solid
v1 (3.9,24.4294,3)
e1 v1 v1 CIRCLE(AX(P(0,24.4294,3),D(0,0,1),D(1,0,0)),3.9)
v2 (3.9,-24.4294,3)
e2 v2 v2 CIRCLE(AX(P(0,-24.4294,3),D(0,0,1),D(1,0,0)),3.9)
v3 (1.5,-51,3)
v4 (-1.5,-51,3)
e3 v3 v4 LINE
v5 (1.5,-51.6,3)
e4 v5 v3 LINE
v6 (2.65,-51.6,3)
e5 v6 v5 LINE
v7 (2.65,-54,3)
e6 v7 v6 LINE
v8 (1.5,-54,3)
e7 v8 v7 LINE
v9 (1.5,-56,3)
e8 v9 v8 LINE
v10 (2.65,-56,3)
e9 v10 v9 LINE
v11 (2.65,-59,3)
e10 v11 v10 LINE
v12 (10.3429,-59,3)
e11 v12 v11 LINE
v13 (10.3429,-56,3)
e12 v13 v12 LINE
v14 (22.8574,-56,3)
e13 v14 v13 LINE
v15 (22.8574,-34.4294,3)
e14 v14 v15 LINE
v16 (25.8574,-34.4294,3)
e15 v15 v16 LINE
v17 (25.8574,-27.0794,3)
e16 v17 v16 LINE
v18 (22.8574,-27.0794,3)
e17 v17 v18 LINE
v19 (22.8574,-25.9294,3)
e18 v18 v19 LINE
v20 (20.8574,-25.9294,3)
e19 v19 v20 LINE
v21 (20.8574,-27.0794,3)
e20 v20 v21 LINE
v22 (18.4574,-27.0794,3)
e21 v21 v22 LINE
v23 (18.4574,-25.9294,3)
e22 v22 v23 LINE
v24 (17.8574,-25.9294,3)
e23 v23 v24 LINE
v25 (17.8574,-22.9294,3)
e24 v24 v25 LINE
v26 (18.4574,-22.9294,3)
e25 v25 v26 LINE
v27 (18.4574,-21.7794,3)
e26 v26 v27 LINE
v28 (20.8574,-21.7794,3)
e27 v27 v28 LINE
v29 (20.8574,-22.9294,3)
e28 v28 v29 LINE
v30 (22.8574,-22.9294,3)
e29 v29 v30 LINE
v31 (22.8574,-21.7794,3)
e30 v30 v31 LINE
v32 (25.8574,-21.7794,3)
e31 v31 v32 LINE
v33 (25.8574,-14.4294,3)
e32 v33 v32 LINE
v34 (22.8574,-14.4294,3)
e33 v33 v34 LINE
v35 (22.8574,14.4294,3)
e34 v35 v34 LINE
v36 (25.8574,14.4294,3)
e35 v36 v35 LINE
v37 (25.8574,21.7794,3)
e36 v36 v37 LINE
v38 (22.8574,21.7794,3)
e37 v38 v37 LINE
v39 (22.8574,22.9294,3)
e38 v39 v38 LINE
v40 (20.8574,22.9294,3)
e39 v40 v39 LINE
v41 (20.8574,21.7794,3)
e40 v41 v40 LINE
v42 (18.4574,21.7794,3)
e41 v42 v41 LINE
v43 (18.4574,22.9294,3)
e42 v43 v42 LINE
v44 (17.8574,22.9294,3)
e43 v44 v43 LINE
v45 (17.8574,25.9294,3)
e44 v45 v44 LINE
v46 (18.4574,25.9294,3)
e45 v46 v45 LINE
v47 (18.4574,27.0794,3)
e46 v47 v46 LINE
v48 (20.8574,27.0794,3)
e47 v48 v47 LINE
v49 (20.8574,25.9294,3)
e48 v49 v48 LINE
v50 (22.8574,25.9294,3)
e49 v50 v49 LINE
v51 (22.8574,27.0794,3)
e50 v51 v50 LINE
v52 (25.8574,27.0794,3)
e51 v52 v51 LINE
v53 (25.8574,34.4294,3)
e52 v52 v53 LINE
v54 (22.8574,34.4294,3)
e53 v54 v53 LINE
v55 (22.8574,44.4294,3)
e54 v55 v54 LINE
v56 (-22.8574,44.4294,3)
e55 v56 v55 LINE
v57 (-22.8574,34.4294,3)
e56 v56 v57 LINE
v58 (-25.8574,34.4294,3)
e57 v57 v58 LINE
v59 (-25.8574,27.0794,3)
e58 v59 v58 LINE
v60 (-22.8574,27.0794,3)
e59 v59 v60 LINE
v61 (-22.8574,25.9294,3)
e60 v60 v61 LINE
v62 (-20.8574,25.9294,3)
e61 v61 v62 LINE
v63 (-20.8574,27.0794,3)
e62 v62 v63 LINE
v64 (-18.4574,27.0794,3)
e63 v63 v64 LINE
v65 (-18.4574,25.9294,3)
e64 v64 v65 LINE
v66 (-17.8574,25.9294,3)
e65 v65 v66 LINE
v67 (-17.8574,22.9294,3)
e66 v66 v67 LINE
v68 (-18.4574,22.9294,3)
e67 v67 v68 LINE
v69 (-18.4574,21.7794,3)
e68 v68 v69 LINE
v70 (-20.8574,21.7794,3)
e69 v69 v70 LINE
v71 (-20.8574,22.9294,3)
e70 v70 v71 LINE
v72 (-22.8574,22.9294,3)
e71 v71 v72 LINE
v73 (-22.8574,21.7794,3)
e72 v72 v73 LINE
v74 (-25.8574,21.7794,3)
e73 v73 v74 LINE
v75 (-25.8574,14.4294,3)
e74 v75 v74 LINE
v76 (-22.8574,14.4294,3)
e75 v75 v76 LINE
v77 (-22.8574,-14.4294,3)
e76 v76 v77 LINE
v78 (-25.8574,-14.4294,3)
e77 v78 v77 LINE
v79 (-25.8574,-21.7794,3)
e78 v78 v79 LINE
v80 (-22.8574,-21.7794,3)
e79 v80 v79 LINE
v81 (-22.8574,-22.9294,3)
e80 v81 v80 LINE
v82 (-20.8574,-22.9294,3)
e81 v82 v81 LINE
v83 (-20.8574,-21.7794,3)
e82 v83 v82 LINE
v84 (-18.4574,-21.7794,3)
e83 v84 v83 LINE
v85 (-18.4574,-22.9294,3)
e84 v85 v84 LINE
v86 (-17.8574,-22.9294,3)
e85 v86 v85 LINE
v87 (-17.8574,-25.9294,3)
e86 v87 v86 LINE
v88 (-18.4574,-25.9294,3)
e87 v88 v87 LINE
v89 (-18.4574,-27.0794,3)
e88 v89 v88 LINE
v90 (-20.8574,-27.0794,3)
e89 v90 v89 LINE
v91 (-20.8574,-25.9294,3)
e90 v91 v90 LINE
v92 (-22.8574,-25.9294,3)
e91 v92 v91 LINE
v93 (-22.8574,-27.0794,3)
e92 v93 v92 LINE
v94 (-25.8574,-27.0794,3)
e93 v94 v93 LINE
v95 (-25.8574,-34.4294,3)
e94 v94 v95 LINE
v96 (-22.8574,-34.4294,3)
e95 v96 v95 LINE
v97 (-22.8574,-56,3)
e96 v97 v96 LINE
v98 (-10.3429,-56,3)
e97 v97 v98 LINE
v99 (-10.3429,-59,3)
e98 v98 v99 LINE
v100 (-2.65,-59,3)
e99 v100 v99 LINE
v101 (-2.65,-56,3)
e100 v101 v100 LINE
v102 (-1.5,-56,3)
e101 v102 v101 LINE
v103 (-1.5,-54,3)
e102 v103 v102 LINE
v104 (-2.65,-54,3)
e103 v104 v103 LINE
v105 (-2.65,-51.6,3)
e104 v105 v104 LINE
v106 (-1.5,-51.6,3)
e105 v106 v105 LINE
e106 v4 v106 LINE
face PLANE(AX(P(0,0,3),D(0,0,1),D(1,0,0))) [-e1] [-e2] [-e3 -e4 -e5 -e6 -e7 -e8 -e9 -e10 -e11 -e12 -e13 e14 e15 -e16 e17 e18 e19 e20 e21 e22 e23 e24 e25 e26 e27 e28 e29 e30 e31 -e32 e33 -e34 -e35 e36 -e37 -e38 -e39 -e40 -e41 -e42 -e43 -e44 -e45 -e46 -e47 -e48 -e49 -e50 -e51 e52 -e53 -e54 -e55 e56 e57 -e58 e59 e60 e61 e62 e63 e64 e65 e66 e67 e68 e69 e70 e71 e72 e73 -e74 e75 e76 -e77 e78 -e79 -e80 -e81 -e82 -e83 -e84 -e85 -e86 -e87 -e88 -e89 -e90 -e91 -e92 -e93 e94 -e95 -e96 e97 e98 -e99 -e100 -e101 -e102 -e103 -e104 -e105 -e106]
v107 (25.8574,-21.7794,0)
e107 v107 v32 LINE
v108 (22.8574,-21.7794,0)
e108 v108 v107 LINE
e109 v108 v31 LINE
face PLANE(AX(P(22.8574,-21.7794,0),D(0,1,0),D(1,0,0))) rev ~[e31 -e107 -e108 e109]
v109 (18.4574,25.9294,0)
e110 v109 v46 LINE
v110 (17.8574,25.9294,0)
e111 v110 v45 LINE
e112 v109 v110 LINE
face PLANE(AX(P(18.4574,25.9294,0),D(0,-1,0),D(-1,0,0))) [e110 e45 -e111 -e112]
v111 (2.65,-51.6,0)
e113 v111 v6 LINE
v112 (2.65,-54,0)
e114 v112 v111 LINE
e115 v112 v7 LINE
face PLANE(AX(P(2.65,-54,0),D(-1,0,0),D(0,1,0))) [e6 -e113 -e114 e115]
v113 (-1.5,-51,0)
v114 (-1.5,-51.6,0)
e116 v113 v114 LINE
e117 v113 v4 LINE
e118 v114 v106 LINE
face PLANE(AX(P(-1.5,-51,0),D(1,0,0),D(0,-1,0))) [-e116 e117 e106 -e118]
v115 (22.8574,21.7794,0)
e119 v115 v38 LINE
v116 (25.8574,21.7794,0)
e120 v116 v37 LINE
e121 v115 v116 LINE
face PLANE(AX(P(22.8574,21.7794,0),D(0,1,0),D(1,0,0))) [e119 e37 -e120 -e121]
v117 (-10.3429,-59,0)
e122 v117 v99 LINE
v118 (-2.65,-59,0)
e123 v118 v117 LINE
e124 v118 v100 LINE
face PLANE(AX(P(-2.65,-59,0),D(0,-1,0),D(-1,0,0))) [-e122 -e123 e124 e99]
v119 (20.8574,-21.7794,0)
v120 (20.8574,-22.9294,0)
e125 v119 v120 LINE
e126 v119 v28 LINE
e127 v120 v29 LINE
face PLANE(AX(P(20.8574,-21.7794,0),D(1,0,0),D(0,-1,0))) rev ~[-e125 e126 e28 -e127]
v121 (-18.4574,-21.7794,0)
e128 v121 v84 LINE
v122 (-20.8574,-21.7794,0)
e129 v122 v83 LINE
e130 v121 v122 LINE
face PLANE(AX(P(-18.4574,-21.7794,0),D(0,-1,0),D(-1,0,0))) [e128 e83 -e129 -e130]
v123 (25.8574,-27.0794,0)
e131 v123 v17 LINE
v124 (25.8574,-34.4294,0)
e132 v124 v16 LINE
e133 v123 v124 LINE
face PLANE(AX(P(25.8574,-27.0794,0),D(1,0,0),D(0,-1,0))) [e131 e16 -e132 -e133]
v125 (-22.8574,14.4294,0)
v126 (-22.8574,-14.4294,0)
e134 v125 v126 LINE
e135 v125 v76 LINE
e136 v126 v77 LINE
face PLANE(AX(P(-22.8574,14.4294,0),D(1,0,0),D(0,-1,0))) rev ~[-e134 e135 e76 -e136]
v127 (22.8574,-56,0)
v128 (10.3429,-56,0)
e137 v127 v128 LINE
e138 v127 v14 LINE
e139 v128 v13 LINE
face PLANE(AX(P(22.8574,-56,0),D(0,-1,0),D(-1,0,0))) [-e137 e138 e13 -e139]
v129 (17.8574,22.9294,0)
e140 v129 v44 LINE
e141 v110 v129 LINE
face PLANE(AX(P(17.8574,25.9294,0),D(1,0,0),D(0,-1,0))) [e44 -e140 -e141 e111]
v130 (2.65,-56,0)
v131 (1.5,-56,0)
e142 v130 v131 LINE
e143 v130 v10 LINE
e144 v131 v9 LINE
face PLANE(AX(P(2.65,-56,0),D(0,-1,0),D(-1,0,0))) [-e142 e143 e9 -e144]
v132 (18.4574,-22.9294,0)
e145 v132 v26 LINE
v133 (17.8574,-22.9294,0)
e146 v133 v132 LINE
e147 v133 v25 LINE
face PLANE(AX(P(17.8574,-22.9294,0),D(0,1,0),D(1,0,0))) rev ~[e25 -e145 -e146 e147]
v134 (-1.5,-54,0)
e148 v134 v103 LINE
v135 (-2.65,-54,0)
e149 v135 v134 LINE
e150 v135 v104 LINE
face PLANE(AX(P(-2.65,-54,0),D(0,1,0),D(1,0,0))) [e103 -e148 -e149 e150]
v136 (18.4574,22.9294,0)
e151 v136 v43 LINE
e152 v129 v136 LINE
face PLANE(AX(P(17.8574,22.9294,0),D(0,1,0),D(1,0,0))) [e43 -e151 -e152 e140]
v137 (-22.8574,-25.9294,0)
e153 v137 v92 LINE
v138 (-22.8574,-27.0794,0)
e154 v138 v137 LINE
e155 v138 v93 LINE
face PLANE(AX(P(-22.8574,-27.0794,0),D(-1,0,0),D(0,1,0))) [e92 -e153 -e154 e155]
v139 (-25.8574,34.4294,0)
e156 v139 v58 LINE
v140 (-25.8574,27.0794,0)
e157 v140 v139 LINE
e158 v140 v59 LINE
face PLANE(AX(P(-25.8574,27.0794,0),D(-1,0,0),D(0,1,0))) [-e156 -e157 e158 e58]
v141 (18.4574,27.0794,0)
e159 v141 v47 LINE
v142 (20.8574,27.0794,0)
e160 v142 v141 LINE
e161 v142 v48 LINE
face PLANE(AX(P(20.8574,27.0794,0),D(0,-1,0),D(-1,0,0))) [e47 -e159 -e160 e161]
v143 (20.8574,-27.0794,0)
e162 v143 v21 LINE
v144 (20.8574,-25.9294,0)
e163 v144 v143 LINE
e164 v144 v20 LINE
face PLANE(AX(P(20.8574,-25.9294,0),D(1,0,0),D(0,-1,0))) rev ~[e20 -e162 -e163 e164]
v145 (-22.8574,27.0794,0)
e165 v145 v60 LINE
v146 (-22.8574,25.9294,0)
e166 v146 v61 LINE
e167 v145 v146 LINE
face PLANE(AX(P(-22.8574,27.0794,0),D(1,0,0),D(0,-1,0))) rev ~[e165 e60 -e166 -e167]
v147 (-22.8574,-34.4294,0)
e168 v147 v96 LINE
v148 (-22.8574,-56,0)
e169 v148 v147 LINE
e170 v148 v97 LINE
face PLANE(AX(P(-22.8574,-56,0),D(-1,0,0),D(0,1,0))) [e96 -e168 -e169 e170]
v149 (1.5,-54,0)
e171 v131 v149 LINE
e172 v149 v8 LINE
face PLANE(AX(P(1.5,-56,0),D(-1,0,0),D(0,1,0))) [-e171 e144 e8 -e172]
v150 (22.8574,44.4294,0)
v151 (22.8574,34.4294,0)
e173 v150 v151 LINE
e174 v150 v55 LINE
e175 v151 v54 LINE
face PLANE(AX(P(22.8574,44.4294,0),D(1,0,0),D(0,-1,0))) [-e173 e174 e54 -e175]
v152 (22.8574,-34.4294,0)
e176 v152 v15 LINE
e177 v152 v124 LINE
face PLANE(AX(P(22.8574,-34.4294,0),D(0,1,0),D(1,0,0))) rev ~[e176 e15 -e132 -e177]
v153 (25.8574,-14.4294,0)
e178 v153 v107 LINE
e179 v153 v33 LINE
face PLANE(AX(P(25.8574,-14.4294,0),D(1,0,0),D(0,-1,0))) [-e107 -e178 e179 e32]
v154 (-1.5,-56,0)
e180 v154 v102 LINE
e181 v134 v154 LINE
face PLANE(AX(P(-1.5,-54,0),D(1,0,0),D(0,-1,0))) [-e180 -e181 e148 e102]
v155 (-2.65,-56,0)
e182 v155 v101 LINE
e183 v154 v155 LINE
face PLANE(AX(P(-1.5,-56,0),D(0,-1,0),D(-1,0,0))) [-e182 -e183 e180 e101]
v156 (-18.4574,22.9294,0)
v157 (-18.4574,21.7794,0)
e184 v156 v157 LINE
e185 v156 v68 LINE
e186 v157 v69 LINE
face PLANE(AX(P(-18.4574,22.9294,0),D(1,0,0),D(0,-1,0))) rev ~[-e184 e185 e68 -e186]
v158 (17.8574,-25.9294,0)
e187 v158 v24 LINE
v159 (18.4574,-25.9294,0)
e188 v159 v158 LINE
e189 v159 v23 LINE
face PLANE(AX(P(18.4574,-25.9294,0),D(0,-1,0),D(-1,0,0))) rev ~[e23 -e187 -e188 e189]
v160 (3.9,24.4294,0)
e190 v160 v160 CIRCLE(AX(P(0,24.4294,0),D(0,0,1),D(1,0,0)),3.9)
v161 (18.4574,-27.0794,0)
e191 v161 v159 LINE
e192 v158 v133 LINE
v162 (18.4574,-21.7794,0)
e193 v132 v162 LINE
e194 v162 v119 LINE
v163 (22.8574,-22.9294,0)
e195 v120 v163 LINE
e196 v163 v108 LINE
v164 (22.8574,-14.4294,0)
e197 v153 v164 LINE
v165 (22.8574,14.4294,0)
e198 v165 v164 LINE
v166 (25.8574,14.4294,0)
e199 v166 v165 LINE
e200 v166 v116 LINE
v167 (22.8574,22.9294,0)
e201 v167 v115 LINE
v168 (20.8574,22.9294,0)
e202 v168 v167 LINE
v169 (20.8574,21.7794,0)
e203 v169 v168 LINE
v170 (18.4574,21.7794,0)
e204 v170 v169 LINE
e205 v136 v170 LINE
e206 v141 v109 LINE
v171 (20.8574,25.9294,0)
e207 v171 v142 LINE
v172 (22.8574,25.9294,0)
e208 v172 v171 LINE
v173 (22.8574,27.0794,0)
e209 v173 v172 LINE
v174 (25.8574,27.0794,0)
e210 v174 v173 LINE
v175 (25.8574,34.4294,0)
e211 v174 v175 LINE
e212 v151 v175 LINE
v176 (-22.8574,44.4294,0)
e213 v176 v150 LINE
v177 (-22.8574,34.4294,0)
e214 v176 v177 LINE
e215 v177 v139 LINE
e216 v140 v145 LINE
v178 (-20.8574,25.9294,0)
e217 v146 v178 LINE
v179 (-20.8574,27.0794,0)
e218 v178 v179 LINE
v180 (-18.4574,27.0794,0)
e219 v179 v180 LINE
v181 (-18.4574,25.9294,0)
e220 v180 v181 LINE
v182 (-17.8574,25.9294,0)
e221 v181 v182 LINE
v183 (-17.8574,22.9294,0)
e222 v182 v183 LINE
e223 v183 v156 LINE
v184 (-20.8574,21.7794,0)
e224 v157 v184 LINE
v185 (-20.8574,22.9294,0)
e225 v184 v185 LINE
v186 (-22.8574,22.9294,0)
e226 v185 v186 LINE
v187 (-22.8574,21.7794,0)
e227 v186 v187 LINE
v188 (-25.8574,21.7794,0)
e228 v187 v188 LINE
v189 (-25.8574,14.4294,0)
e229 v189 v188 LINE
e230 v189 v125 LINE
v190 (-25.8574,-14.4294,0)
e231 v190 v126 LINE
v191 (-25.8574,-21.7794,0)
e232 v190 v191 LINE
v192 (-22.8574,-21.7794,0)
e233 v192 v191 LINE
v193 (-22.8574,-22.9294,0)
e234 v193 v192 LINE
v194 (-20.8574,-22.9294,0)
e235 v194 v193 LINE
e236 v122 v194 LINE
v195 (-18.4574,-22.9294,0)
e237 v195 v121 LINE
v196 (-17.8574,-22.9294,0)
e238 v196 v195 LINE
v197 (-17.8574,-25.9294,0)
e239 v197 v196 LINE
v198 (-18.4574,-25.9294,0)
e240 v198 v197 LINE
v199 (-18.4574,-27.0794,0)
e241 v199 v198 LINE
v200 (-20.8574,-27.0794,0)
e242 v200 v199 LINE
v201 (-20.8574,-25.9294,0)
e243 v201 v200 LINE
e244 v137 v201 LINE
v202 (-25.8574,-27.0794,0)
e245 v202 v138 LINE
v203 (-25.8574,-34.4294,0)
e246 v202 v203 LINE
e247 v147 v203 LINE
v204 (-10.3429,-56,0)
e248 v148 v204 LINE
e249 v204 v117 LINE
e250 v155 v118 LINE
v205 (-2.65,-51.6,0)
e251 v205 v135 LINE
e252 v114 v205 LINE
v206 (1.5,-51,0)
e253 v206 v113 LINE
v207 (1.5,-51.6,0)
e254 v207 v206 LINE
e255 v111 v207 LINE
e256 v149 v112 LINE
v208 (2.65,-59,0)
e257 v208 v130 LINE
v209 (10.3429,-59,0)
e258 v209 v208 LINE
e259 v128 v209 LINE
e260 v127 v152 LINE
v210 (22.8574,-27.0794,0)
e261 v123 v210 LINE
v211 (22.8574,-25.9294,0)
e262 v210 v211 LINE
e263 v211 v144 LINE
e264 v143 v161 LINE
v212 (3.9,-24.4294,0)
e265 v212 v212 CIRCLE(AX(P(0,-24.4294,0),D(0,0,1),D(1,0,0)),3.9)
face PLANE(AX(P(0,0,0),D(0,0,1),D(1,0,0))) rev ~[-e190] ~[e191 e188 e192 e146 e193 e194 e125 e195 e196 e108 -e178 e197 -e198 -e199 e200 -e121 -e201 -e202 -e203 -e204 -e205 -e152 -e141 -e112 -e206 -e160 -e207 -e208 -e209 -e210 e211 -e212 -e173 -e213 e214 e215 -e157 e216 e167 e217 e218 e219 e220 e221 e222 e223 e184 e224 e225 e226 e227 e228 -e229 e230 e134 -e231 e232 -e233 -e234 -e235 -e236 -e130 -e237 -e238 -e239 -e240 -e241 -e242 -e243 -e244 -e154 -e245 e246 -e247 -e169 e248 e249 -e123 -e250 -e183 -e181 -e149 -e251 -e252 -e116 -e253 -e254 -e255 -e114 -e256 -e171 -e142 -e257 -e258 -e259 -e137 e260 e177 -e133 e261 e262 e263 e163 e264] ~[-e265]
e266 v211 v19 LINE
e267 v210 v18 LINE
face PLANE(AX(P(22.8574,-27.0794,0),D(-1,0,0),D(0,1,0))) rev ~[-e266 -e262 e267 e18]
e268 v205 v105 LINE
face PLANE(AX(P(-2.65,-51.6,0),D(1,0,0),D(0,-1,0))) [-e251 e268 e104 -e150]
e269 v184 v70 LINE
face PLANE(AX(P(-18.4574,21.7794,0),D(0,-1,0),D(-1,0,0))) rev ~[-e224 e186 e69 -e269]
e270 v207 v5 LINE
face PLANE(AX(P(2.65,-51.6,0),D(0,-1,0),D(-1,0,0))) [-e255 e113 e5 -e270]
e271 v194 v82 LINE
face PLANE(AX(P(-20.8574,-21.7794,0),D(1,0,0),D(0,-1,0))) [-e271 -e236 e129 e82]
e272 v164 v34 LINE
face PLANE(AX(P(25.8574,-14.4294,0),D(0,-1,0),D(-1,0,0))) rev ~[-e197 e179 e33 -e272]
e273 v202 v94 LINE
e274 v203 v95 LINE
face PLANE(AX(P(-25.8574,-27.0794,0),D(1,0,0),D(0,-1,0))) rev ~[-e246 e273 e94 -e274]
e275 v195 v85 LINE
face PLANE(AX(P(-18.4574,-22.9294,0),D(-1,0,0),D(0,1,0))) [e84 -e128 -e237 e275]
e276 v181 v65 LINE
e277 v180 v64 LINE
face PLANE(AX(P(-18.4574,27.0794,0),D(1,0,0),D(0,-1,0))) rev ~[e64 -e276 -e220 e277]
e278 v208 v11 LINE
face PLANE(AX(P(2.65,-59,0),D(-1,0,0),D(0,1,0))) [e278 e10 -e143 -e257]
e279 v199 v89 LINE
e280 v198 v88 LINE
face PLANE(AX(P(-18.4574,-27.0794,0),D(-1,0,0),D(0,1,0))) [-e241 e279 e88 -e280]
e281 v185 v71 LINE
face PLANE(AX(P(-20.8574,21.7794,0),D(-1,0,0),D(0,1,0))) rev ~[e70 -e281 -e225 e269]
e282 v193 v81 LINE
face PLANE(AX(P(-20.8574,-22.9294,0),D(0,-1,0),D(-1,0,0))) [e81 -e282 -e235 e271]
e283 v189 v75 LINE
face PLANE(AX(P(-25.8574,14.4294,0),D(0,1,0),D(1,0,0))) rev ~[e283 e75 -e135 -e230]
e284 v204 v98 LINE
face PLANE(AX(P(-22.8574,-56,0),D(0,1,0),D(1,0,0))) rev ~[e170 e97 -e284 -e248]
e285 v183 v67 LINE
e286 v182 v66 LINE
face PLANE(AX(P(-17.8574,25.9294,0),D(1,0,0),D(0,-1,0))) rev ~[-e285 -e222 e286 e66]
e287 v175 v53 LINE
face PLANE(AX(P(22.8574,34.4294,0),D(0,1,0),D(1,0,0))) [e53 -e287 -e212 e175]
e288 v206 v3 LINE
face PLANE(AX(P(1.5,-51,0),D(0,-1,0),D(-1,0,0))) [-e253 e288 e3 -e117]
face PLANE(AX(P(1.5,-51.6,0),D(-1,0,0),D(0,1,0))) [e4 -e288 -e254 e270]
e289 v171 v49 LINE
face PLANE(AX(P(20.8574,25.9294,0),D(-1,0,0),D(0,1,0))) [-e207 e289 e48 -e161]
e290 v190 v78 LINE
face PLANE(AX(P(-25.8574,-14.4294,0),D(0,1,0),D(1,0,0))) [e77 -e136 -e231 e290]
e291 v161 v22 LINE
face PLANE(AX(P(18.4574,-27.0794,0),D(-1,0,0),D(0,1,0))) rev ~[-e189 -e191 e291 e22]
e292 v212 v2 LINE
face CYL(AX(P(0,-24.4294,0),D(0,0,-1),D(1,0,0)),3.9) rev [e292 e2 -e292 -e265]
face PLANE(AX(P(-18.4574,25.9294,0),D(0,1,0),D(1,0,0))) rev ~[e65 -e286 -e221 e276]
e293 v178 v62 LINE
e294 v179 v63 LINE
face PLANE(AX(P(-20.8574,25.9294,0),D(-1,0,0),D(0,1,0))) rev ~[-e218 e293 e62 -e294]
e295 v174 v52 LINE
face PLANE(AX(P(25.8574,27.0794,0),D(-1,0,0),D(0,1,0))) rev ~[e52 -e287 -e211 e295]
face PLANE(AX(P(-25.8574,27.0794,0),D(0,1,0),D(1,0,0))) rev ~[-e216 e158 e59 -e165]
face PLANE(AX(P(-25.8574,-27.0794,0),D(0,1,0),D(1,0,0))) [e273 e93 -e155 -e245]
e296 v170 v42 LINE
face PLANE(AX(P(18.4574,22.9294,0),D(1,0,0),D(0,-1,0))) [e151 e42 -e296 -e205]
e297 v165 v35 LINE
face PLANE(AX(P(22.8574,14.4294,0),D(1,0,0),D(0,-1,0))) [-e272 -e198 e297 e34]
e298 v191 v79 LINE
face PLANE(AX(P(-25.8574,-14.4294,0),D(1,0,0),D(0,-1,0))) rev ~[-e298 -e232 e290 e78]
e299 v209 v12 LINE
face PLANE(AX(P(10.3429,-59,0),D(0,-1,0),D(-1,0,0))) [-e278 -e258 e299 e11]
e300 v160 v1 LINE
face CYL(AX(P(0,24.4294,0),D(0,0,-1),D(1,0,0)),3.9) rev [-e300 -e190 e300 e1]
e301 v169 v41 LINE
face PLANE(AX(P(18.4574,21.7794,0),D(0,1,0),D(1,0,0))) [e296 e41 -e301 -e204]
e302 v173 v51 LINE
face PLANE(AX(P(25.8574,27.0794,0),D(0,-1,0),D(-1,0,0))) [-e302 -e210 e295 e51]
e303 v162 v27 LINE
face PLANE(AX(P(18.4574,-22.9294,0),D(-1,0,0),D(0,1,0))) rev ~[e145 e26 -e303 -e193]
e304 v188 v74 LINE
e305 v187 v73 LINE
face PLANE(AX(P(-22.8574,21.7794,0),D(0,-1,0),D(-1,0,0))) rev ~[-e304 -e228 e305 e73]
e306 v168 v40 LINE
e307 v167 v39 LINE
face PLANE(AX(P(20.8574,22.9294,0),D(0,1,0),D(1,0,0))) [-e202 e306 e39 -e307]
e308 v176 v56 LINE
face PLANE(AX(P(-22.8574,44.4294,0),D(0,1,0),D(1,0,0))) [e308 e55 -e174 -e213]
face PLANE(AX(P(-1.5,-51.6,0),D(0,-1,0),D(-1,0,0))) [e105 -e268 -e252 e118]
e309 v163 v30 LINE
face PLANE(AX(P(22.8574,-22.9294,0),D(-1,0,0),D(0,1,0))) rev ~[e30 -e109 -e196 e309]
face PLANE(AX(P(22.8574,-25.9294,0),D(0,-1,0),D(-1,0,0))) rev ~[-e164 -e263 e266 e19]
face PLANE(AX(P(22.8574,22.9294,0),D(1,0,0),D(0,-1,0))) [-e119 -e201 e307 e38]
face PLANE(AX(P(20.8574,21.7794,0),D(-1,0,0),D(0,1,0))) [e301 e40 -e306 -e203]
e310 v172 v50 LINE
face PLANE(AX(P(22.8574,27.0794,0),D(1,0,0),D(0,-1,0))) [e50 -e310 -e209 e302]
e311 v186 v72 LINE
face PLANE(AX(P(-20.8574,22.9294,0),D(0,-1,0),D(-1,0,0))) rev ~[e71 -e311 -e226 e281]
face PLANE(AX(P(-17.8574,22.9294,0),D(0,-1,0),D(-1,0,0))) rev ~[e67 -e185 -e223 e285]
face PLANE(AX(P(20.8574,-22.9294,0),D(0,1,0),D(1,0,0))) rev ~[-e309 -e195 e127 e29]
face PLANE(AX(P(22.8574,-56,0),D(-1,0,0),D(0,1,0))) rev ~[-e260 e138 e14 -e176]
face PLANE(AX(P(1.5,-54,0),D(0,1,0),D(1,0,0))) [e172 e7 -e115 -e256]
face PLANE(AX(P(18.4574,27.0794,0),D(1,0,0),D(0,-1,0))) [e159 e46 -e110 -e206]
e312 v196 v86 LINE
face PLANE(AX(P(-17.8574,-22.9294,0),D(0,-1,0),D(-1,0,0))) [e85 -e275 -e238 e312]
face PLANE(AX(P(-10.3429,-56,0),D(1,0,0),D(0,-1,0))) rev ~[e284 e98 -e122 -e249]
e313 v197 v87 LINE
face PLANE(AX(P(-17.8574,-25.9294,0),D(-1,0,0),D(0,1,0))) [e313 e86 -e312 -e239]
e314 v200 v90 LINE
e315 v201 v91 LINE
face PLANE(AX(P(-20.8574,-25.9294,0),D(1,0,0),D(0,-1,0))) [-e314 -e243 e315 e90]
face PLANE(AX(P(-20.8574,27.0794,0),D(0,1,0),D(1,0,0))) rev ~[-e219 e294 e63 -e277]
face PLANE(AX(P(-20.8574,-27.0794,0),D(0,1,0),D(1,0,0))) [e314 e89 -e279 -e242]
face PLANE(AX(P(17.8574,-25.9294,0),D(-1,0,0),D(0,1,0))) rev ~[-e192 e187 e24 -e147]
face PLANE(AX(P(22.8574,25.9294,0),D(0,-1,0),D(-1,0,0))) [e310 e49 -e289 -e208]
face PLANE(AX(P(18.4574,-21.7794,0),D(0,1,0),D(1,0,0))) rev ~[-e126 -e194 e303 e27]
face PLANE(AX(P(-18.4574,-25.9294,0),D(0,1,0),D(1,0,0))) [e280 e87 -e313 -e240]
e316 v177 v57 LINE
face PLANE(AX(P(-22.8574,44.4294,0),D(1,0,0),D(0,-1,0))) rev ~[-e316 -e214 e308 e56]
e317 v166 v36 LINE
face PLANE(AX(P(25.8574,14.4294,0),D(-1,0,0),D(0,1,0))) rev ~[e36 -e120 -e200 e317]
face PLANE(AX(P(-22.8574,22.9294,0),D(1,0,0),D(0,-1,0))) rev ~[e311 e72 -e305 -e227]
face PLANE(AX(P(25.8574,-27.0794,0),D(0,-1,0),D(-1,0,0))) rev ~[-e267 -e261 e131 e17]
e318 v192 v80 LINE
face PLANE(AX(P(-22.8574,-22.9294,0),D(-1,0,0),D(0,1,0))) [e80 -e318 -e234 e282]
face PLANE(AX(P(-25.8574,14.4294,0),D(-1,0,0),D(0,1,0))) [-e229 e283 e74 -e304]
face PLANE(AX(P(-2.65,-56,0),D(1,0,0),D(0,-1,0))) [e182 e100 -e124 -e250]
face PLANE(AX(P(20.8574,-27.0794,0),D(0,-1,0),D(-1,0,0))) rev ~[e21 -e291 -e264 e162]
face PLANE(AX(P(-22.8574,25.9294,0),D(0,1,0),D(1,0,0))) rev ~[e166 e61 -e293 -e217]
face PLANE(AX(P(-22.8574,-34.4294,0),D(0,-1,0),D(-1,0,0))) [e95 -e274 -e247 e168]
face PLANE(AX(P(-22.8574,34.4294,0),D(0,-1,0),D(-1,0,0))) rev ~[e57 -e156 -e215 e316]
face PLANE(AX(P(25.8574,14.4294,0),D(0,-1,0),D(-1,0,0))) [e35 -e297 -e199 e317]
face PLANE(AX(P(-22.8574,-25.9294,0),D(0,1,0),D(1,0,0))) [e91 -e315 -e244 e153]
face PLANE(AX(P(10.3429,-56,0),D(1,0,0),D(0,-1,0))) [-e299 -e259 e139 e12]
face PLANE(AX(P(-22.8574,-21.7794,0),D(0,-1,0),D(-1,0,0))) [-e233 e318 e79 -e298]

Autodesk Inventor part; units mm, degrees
ref_plane "YZ Plane" through (0, 0, 0) normal (1, 0, 0) x (0, 1, 0)
ref_plane "XZ Plane" through (0, 0, 0) normal (0, 1, 0) x (-1, 0, 0)
ref_plane "XY Plane" through (0, 0, 0) normal (0, 0, 1) x (1, 0, 0)
sketch "Sketch1" plane through (0, 0, 0) normal (0, 0, 1) x (1, 0, 0)
  line L0 (-22.8574, 44.4294) -> (22.8574, 44.4294)
  line L1 (10.3429, -56) -> (10.3429, -59)
  line L2 (2.65, -59) -> (2.65, -56)
  line L3 (2.65, -56) -> (1.5, -56)
  line L4 (1.5, -56) -> (1.5, -54)
  line L5 (1.5, -54) -> (2.65, -54)
  line L6 (2.65, -54) -> (2.65, -51.6)
  line L7 (2.65, -51.6) -> (1.5, -51.6)
  line L8 (1.5, -51.6) -> (1.5, -51)
  line L9 (1.5, -51) -> (-1.5, -51)
  line L10 (-1.5, -51) -> (-1.5, -51.6)
  line L11 (-1.5, -51.6) -> (-2.65, -51.6)
  line L12 (-2.65, -51.6) -> (-2.65, -54)
  line L13 (-2.65, -54) -> (-1.5, -54)
  line L14 (-1.5, -56) -> (-2.65, -56)
  line L15 (-1.5, -54) -> (-1.5, -56)
  line L16 (-2.65, -56) -> (-2.65, -59)
  line L17 (-10.3429, -56) -> (-10.3429, -59)
  line L18 (0, -51.179) -> (0, -65.7621) construction
  line L19 (10.3429, -59) -> (2.65, -59)
  line L20 (-2.65, -59) -> (-10.3429, -59)
  line L21 (-24.2882, 0) -> (26.7754, 0) construction
  circle A0 centre (0, -24.4294) radius 3.9
  circle A1 centre (0, 24.4294) radius 3.9
  line L22 (22.8574, -56) -> (22.8574, -34.4294)
  line L23 (22.8574, -34.4294) -> (25.8574, -34.4294)
  line L24 (25.8574, -27.0794) -> (22.8574, -27.0794)
  line L25 (22.8574, -27.0794) -> (22.8574, -25.9294)
  line L26 (22.8574, -25.9294) -> (20.8574, -25.9294)
  line L27 (20.8574, -25.9294) -> (20.8574, -27.0794)
  line L28 (20.8574, -27.0794) -> (18.4574, -27.0794)
  line L29 (18.4574, -27.0794) -> (18.4574, -25.9294)
  line L30 (18.4574, -25.9294) -> (17.8574, -25.9294)
  line L31 (17.8574, -25.9294) -> (17.8574, -22.9294)
  line L32 (17.8574, -22.9294) -> (18.4574, -22.9294)
  line L33 (18.4574, -22.9294) -> (18.4574, -21.7794)
  line L34 (18.4574, -21.7794) -> (20.8574, -21.7794)
  line L35 (20.8574, -21.7794) -> (20.8574, -22.9294)
  line L36 (20.8574, -22.9294) -> (22.8574, -22.9294)
  line L37 (22.8574, -22.9294) -> (22.8574, -21.7794)
  line L38 (22.8574, -21.7794) -> (25.8574, -21.7794)
  line L39 (22.8574, -56) -> (10.3429, -56)
  line L40 (39.0531, -24.4294) -> (-31.8887, -24.4294) construction
  line L41 (25.8574, -14.4294) -> (22.8574, -14.4294)
  line L42 (25.8574, -27.0794) -> (25.8574, -34.4294)
  line L43 (25.8574, -14.4294) -> (25.8574, -21.7794)
  line L44 (22.8574, 44.4294) -> (22.8574, 34.4294)
  line L45 (22.8574, 34.4294) -> (25.8574, 34.4294)
  line L46 (25.8574, 27.0794) -> (22.8574, 27.0794)
  line L47 (22.8574, 27.0794) -> (22.8574, 25.9294)
  line L48 (22.8574, 25.9294) -> (20.8574, 25.9294)
  line L49 (20.8574, 25.9294) -> (20.8574, 27.0794)
  line L50 (20.8574, 27.0794) -> (18.4574, 27.0794)
  line L51 (18.4574, 27.0794) -> (18.4574, 25.9294)
  line L52 (18.4574, 25.9294) -> (17.8574, 25.9294)
  line L53 (17.8574, 25.9294) -> (17.8574, 22.9294)
  line L54 (17.8574, 22.9294) -> (18.4574, 22.9294)
  line L55 (18.4574, 22.9294) -> (18.4574, 21.7794)
  line L56 (18.4574, 21.7794) -> (20.8574, 21.7794)
  line L57 (20.8574, 21.7794) -> (20.8574, 22.9294)
  line L58 (20.8574, 22.9294) -> (22.8574, 22.9294)
  line L59 (22.8574, 22.9294) -> (22.8574, 21.7794)
  line L60 (22.8574, 21.7794) -> (25.8574, 21.7794)
  line L61 (25.8574, 14.4294) -> (22.8574, 14.4294)
  line L62 (25.8574, 27.0794) -> (25.8574, 34.4294)
  line L63 (25.8574, 14.4294) -> (25.8574, 21.7794)
  line L64 (22.8574, 14.4294) -> (22.8574, -14.4294)
  line L65 (0, 77.8205) -> (0, -95.1737) construction
  line L66 (-22.8574, -56) -> (-22.8574, -34.4294)
  line L67 (-22.8574, -34.4294) -> (-25.8574, -34.4294)
  line L68 (-25.8574, -27.0794) -> (-22.8574, -27.0794)
  line L69 (-22.8574, -27.0794) -> (-22.8574, -25.9294)
  line L70 (-22.8574, -25.9294) -> (-20.8574, -25.9294)
  line L71 (-20.8574, -25.9294) -> (-20.8574, -27.0794)
  line L72 (-20.8574, -27.0794) -> (-18.4574, -27.0794)
  line L73 (-18.4574, -27.0794) -> (-18.4574, -25.9294)
  line L74 (-18.4574, -25.9294) -> (-17.8574, -25.9294)
  line L75 (-17.8574, -25.9294) -> (-17.8574, -22.9294)
  line L76 (-17.8574, -22.9294) -> (-18.4574, -22.9294)
  line L77 (-18.4574, -22.9294) -> (-18.4574, -21.7794)
  line L78 (-18.4574, -21.7794) -> (-20.8574, -21.7794)
  line L79 (-20.8574, -21.7794) -> (-20.8574, -22.9294)
  line L80 (-20.8574, -22.9294) -> (-22.8574, -22.9294)
  line L81 (-22.8574, -22.9294) -> (-22.8574, -21.7794)
  line L82 (-22.8574, -21.7794) -> (-25.8574, -21.7794)
  line L83 (-25.8574, -14.4294) -> (-22.8574, -14.4294)
  line L84 (-25.8574, -27.0794) -> (-25.8574, -34.4294)
  line L85 (-25.8574, -14.4294) -> (-25.8574, -21.7794)
  line L86 (-25.8574, 14.4294) -> (-22.8574, 14.4294)
  line L87 (-25.8574, 14.4294) -> (-25.8574, 21.7794)
  line L88 (-22.8574, 21.7794) -> (-25.8574, 21.7794)
  line L89 (-22.8574, 22.9294) -> (-22.8574, 21.7794)
  line L90 (-20.8574, 22.9294) -> (-22.8574, 22.9294)
  line L91 (-20.8574, 21.7794) -> (-20.8574, 22.9294)
  line L92 (-18.4574, 21.7794) -> (-20.8574, 21.7794)
  line L93 (-18.4574, 22.9294) -> (-18.4574, 21.7794)
  line L94 (-17.8574, 22.9294) -> (-18.4574, 22.9294)
  line L95 (-17.8574, 25.9294) -> (-17.8574, 22.9294)
  line L96 (-18.4574, 25.9294) -> (-17.8574, 25.9294)
  line L97 (-18.4574, 27.0794) -> (-18.4574, 25.9294)
  line L98 (-20.8574, 27.0794) -> (-18.4574, 27.0794)
  line L99 (-20.8574, 25.9294) -> (-20.8574, 27.0794)
  line L100 (-22.8574, 25.9294) -> (-20.8574, 25.9294)
  line L101 (-22.8574, 27.0794) -> (-22.8574, 25.9294)
  line L102 (-25.8574, 27.0794) -> (-22.8574, 27.0794)
  line L103 (-25.8574, 27.0794) -> (-25.8574, 34.4294)
  line L104 (-22.8574, 34.4294) -> (-25.8574, 34.4294)
  line L105 (-22.8574, 44.4294) -> (-22.8574, 34.4294)
  line L106 (-22.8574, 14.4294) -> (-22.8574, -14.4294)
  line L107 (-22.8574, -56) -> (-10.3429, -56)
  line L108 (-37.0496, 24.4294) -> (41.724, 24.4294) construction
  point P0 (0, 0)
  dimension "d4" = 3
  dimension "d6" = 3
  dimension "d7" = 2.4
  dimension "d10" = 5.3
  dimension "d11" = 8
  dimension "d12" = 5
  dimension "d13" = 20.6859
  dimension "d14" = 7.8
  dimension "d15" = 34.5706
  dimension "d16" = 7.8
  dimension "d24" = 3
  dimension "d26" = 51.7147
  dimension "d29" = 48.8588
  dimension "d31" = 3
  dimension "d32" = 8
  dimension "d33" = 5.3
  dimension "d36" = 20
  dimension "d37" = 20
  dimension "d38" = 10
  dimension "d39" = 103.4294
extrude "Extrusion1" add sketch "Sketch1" along normal blind 3
equation "\"d13\" = 0.4 * d26"
properties part number "Y-Shafts-Holder_Front-Outer"
